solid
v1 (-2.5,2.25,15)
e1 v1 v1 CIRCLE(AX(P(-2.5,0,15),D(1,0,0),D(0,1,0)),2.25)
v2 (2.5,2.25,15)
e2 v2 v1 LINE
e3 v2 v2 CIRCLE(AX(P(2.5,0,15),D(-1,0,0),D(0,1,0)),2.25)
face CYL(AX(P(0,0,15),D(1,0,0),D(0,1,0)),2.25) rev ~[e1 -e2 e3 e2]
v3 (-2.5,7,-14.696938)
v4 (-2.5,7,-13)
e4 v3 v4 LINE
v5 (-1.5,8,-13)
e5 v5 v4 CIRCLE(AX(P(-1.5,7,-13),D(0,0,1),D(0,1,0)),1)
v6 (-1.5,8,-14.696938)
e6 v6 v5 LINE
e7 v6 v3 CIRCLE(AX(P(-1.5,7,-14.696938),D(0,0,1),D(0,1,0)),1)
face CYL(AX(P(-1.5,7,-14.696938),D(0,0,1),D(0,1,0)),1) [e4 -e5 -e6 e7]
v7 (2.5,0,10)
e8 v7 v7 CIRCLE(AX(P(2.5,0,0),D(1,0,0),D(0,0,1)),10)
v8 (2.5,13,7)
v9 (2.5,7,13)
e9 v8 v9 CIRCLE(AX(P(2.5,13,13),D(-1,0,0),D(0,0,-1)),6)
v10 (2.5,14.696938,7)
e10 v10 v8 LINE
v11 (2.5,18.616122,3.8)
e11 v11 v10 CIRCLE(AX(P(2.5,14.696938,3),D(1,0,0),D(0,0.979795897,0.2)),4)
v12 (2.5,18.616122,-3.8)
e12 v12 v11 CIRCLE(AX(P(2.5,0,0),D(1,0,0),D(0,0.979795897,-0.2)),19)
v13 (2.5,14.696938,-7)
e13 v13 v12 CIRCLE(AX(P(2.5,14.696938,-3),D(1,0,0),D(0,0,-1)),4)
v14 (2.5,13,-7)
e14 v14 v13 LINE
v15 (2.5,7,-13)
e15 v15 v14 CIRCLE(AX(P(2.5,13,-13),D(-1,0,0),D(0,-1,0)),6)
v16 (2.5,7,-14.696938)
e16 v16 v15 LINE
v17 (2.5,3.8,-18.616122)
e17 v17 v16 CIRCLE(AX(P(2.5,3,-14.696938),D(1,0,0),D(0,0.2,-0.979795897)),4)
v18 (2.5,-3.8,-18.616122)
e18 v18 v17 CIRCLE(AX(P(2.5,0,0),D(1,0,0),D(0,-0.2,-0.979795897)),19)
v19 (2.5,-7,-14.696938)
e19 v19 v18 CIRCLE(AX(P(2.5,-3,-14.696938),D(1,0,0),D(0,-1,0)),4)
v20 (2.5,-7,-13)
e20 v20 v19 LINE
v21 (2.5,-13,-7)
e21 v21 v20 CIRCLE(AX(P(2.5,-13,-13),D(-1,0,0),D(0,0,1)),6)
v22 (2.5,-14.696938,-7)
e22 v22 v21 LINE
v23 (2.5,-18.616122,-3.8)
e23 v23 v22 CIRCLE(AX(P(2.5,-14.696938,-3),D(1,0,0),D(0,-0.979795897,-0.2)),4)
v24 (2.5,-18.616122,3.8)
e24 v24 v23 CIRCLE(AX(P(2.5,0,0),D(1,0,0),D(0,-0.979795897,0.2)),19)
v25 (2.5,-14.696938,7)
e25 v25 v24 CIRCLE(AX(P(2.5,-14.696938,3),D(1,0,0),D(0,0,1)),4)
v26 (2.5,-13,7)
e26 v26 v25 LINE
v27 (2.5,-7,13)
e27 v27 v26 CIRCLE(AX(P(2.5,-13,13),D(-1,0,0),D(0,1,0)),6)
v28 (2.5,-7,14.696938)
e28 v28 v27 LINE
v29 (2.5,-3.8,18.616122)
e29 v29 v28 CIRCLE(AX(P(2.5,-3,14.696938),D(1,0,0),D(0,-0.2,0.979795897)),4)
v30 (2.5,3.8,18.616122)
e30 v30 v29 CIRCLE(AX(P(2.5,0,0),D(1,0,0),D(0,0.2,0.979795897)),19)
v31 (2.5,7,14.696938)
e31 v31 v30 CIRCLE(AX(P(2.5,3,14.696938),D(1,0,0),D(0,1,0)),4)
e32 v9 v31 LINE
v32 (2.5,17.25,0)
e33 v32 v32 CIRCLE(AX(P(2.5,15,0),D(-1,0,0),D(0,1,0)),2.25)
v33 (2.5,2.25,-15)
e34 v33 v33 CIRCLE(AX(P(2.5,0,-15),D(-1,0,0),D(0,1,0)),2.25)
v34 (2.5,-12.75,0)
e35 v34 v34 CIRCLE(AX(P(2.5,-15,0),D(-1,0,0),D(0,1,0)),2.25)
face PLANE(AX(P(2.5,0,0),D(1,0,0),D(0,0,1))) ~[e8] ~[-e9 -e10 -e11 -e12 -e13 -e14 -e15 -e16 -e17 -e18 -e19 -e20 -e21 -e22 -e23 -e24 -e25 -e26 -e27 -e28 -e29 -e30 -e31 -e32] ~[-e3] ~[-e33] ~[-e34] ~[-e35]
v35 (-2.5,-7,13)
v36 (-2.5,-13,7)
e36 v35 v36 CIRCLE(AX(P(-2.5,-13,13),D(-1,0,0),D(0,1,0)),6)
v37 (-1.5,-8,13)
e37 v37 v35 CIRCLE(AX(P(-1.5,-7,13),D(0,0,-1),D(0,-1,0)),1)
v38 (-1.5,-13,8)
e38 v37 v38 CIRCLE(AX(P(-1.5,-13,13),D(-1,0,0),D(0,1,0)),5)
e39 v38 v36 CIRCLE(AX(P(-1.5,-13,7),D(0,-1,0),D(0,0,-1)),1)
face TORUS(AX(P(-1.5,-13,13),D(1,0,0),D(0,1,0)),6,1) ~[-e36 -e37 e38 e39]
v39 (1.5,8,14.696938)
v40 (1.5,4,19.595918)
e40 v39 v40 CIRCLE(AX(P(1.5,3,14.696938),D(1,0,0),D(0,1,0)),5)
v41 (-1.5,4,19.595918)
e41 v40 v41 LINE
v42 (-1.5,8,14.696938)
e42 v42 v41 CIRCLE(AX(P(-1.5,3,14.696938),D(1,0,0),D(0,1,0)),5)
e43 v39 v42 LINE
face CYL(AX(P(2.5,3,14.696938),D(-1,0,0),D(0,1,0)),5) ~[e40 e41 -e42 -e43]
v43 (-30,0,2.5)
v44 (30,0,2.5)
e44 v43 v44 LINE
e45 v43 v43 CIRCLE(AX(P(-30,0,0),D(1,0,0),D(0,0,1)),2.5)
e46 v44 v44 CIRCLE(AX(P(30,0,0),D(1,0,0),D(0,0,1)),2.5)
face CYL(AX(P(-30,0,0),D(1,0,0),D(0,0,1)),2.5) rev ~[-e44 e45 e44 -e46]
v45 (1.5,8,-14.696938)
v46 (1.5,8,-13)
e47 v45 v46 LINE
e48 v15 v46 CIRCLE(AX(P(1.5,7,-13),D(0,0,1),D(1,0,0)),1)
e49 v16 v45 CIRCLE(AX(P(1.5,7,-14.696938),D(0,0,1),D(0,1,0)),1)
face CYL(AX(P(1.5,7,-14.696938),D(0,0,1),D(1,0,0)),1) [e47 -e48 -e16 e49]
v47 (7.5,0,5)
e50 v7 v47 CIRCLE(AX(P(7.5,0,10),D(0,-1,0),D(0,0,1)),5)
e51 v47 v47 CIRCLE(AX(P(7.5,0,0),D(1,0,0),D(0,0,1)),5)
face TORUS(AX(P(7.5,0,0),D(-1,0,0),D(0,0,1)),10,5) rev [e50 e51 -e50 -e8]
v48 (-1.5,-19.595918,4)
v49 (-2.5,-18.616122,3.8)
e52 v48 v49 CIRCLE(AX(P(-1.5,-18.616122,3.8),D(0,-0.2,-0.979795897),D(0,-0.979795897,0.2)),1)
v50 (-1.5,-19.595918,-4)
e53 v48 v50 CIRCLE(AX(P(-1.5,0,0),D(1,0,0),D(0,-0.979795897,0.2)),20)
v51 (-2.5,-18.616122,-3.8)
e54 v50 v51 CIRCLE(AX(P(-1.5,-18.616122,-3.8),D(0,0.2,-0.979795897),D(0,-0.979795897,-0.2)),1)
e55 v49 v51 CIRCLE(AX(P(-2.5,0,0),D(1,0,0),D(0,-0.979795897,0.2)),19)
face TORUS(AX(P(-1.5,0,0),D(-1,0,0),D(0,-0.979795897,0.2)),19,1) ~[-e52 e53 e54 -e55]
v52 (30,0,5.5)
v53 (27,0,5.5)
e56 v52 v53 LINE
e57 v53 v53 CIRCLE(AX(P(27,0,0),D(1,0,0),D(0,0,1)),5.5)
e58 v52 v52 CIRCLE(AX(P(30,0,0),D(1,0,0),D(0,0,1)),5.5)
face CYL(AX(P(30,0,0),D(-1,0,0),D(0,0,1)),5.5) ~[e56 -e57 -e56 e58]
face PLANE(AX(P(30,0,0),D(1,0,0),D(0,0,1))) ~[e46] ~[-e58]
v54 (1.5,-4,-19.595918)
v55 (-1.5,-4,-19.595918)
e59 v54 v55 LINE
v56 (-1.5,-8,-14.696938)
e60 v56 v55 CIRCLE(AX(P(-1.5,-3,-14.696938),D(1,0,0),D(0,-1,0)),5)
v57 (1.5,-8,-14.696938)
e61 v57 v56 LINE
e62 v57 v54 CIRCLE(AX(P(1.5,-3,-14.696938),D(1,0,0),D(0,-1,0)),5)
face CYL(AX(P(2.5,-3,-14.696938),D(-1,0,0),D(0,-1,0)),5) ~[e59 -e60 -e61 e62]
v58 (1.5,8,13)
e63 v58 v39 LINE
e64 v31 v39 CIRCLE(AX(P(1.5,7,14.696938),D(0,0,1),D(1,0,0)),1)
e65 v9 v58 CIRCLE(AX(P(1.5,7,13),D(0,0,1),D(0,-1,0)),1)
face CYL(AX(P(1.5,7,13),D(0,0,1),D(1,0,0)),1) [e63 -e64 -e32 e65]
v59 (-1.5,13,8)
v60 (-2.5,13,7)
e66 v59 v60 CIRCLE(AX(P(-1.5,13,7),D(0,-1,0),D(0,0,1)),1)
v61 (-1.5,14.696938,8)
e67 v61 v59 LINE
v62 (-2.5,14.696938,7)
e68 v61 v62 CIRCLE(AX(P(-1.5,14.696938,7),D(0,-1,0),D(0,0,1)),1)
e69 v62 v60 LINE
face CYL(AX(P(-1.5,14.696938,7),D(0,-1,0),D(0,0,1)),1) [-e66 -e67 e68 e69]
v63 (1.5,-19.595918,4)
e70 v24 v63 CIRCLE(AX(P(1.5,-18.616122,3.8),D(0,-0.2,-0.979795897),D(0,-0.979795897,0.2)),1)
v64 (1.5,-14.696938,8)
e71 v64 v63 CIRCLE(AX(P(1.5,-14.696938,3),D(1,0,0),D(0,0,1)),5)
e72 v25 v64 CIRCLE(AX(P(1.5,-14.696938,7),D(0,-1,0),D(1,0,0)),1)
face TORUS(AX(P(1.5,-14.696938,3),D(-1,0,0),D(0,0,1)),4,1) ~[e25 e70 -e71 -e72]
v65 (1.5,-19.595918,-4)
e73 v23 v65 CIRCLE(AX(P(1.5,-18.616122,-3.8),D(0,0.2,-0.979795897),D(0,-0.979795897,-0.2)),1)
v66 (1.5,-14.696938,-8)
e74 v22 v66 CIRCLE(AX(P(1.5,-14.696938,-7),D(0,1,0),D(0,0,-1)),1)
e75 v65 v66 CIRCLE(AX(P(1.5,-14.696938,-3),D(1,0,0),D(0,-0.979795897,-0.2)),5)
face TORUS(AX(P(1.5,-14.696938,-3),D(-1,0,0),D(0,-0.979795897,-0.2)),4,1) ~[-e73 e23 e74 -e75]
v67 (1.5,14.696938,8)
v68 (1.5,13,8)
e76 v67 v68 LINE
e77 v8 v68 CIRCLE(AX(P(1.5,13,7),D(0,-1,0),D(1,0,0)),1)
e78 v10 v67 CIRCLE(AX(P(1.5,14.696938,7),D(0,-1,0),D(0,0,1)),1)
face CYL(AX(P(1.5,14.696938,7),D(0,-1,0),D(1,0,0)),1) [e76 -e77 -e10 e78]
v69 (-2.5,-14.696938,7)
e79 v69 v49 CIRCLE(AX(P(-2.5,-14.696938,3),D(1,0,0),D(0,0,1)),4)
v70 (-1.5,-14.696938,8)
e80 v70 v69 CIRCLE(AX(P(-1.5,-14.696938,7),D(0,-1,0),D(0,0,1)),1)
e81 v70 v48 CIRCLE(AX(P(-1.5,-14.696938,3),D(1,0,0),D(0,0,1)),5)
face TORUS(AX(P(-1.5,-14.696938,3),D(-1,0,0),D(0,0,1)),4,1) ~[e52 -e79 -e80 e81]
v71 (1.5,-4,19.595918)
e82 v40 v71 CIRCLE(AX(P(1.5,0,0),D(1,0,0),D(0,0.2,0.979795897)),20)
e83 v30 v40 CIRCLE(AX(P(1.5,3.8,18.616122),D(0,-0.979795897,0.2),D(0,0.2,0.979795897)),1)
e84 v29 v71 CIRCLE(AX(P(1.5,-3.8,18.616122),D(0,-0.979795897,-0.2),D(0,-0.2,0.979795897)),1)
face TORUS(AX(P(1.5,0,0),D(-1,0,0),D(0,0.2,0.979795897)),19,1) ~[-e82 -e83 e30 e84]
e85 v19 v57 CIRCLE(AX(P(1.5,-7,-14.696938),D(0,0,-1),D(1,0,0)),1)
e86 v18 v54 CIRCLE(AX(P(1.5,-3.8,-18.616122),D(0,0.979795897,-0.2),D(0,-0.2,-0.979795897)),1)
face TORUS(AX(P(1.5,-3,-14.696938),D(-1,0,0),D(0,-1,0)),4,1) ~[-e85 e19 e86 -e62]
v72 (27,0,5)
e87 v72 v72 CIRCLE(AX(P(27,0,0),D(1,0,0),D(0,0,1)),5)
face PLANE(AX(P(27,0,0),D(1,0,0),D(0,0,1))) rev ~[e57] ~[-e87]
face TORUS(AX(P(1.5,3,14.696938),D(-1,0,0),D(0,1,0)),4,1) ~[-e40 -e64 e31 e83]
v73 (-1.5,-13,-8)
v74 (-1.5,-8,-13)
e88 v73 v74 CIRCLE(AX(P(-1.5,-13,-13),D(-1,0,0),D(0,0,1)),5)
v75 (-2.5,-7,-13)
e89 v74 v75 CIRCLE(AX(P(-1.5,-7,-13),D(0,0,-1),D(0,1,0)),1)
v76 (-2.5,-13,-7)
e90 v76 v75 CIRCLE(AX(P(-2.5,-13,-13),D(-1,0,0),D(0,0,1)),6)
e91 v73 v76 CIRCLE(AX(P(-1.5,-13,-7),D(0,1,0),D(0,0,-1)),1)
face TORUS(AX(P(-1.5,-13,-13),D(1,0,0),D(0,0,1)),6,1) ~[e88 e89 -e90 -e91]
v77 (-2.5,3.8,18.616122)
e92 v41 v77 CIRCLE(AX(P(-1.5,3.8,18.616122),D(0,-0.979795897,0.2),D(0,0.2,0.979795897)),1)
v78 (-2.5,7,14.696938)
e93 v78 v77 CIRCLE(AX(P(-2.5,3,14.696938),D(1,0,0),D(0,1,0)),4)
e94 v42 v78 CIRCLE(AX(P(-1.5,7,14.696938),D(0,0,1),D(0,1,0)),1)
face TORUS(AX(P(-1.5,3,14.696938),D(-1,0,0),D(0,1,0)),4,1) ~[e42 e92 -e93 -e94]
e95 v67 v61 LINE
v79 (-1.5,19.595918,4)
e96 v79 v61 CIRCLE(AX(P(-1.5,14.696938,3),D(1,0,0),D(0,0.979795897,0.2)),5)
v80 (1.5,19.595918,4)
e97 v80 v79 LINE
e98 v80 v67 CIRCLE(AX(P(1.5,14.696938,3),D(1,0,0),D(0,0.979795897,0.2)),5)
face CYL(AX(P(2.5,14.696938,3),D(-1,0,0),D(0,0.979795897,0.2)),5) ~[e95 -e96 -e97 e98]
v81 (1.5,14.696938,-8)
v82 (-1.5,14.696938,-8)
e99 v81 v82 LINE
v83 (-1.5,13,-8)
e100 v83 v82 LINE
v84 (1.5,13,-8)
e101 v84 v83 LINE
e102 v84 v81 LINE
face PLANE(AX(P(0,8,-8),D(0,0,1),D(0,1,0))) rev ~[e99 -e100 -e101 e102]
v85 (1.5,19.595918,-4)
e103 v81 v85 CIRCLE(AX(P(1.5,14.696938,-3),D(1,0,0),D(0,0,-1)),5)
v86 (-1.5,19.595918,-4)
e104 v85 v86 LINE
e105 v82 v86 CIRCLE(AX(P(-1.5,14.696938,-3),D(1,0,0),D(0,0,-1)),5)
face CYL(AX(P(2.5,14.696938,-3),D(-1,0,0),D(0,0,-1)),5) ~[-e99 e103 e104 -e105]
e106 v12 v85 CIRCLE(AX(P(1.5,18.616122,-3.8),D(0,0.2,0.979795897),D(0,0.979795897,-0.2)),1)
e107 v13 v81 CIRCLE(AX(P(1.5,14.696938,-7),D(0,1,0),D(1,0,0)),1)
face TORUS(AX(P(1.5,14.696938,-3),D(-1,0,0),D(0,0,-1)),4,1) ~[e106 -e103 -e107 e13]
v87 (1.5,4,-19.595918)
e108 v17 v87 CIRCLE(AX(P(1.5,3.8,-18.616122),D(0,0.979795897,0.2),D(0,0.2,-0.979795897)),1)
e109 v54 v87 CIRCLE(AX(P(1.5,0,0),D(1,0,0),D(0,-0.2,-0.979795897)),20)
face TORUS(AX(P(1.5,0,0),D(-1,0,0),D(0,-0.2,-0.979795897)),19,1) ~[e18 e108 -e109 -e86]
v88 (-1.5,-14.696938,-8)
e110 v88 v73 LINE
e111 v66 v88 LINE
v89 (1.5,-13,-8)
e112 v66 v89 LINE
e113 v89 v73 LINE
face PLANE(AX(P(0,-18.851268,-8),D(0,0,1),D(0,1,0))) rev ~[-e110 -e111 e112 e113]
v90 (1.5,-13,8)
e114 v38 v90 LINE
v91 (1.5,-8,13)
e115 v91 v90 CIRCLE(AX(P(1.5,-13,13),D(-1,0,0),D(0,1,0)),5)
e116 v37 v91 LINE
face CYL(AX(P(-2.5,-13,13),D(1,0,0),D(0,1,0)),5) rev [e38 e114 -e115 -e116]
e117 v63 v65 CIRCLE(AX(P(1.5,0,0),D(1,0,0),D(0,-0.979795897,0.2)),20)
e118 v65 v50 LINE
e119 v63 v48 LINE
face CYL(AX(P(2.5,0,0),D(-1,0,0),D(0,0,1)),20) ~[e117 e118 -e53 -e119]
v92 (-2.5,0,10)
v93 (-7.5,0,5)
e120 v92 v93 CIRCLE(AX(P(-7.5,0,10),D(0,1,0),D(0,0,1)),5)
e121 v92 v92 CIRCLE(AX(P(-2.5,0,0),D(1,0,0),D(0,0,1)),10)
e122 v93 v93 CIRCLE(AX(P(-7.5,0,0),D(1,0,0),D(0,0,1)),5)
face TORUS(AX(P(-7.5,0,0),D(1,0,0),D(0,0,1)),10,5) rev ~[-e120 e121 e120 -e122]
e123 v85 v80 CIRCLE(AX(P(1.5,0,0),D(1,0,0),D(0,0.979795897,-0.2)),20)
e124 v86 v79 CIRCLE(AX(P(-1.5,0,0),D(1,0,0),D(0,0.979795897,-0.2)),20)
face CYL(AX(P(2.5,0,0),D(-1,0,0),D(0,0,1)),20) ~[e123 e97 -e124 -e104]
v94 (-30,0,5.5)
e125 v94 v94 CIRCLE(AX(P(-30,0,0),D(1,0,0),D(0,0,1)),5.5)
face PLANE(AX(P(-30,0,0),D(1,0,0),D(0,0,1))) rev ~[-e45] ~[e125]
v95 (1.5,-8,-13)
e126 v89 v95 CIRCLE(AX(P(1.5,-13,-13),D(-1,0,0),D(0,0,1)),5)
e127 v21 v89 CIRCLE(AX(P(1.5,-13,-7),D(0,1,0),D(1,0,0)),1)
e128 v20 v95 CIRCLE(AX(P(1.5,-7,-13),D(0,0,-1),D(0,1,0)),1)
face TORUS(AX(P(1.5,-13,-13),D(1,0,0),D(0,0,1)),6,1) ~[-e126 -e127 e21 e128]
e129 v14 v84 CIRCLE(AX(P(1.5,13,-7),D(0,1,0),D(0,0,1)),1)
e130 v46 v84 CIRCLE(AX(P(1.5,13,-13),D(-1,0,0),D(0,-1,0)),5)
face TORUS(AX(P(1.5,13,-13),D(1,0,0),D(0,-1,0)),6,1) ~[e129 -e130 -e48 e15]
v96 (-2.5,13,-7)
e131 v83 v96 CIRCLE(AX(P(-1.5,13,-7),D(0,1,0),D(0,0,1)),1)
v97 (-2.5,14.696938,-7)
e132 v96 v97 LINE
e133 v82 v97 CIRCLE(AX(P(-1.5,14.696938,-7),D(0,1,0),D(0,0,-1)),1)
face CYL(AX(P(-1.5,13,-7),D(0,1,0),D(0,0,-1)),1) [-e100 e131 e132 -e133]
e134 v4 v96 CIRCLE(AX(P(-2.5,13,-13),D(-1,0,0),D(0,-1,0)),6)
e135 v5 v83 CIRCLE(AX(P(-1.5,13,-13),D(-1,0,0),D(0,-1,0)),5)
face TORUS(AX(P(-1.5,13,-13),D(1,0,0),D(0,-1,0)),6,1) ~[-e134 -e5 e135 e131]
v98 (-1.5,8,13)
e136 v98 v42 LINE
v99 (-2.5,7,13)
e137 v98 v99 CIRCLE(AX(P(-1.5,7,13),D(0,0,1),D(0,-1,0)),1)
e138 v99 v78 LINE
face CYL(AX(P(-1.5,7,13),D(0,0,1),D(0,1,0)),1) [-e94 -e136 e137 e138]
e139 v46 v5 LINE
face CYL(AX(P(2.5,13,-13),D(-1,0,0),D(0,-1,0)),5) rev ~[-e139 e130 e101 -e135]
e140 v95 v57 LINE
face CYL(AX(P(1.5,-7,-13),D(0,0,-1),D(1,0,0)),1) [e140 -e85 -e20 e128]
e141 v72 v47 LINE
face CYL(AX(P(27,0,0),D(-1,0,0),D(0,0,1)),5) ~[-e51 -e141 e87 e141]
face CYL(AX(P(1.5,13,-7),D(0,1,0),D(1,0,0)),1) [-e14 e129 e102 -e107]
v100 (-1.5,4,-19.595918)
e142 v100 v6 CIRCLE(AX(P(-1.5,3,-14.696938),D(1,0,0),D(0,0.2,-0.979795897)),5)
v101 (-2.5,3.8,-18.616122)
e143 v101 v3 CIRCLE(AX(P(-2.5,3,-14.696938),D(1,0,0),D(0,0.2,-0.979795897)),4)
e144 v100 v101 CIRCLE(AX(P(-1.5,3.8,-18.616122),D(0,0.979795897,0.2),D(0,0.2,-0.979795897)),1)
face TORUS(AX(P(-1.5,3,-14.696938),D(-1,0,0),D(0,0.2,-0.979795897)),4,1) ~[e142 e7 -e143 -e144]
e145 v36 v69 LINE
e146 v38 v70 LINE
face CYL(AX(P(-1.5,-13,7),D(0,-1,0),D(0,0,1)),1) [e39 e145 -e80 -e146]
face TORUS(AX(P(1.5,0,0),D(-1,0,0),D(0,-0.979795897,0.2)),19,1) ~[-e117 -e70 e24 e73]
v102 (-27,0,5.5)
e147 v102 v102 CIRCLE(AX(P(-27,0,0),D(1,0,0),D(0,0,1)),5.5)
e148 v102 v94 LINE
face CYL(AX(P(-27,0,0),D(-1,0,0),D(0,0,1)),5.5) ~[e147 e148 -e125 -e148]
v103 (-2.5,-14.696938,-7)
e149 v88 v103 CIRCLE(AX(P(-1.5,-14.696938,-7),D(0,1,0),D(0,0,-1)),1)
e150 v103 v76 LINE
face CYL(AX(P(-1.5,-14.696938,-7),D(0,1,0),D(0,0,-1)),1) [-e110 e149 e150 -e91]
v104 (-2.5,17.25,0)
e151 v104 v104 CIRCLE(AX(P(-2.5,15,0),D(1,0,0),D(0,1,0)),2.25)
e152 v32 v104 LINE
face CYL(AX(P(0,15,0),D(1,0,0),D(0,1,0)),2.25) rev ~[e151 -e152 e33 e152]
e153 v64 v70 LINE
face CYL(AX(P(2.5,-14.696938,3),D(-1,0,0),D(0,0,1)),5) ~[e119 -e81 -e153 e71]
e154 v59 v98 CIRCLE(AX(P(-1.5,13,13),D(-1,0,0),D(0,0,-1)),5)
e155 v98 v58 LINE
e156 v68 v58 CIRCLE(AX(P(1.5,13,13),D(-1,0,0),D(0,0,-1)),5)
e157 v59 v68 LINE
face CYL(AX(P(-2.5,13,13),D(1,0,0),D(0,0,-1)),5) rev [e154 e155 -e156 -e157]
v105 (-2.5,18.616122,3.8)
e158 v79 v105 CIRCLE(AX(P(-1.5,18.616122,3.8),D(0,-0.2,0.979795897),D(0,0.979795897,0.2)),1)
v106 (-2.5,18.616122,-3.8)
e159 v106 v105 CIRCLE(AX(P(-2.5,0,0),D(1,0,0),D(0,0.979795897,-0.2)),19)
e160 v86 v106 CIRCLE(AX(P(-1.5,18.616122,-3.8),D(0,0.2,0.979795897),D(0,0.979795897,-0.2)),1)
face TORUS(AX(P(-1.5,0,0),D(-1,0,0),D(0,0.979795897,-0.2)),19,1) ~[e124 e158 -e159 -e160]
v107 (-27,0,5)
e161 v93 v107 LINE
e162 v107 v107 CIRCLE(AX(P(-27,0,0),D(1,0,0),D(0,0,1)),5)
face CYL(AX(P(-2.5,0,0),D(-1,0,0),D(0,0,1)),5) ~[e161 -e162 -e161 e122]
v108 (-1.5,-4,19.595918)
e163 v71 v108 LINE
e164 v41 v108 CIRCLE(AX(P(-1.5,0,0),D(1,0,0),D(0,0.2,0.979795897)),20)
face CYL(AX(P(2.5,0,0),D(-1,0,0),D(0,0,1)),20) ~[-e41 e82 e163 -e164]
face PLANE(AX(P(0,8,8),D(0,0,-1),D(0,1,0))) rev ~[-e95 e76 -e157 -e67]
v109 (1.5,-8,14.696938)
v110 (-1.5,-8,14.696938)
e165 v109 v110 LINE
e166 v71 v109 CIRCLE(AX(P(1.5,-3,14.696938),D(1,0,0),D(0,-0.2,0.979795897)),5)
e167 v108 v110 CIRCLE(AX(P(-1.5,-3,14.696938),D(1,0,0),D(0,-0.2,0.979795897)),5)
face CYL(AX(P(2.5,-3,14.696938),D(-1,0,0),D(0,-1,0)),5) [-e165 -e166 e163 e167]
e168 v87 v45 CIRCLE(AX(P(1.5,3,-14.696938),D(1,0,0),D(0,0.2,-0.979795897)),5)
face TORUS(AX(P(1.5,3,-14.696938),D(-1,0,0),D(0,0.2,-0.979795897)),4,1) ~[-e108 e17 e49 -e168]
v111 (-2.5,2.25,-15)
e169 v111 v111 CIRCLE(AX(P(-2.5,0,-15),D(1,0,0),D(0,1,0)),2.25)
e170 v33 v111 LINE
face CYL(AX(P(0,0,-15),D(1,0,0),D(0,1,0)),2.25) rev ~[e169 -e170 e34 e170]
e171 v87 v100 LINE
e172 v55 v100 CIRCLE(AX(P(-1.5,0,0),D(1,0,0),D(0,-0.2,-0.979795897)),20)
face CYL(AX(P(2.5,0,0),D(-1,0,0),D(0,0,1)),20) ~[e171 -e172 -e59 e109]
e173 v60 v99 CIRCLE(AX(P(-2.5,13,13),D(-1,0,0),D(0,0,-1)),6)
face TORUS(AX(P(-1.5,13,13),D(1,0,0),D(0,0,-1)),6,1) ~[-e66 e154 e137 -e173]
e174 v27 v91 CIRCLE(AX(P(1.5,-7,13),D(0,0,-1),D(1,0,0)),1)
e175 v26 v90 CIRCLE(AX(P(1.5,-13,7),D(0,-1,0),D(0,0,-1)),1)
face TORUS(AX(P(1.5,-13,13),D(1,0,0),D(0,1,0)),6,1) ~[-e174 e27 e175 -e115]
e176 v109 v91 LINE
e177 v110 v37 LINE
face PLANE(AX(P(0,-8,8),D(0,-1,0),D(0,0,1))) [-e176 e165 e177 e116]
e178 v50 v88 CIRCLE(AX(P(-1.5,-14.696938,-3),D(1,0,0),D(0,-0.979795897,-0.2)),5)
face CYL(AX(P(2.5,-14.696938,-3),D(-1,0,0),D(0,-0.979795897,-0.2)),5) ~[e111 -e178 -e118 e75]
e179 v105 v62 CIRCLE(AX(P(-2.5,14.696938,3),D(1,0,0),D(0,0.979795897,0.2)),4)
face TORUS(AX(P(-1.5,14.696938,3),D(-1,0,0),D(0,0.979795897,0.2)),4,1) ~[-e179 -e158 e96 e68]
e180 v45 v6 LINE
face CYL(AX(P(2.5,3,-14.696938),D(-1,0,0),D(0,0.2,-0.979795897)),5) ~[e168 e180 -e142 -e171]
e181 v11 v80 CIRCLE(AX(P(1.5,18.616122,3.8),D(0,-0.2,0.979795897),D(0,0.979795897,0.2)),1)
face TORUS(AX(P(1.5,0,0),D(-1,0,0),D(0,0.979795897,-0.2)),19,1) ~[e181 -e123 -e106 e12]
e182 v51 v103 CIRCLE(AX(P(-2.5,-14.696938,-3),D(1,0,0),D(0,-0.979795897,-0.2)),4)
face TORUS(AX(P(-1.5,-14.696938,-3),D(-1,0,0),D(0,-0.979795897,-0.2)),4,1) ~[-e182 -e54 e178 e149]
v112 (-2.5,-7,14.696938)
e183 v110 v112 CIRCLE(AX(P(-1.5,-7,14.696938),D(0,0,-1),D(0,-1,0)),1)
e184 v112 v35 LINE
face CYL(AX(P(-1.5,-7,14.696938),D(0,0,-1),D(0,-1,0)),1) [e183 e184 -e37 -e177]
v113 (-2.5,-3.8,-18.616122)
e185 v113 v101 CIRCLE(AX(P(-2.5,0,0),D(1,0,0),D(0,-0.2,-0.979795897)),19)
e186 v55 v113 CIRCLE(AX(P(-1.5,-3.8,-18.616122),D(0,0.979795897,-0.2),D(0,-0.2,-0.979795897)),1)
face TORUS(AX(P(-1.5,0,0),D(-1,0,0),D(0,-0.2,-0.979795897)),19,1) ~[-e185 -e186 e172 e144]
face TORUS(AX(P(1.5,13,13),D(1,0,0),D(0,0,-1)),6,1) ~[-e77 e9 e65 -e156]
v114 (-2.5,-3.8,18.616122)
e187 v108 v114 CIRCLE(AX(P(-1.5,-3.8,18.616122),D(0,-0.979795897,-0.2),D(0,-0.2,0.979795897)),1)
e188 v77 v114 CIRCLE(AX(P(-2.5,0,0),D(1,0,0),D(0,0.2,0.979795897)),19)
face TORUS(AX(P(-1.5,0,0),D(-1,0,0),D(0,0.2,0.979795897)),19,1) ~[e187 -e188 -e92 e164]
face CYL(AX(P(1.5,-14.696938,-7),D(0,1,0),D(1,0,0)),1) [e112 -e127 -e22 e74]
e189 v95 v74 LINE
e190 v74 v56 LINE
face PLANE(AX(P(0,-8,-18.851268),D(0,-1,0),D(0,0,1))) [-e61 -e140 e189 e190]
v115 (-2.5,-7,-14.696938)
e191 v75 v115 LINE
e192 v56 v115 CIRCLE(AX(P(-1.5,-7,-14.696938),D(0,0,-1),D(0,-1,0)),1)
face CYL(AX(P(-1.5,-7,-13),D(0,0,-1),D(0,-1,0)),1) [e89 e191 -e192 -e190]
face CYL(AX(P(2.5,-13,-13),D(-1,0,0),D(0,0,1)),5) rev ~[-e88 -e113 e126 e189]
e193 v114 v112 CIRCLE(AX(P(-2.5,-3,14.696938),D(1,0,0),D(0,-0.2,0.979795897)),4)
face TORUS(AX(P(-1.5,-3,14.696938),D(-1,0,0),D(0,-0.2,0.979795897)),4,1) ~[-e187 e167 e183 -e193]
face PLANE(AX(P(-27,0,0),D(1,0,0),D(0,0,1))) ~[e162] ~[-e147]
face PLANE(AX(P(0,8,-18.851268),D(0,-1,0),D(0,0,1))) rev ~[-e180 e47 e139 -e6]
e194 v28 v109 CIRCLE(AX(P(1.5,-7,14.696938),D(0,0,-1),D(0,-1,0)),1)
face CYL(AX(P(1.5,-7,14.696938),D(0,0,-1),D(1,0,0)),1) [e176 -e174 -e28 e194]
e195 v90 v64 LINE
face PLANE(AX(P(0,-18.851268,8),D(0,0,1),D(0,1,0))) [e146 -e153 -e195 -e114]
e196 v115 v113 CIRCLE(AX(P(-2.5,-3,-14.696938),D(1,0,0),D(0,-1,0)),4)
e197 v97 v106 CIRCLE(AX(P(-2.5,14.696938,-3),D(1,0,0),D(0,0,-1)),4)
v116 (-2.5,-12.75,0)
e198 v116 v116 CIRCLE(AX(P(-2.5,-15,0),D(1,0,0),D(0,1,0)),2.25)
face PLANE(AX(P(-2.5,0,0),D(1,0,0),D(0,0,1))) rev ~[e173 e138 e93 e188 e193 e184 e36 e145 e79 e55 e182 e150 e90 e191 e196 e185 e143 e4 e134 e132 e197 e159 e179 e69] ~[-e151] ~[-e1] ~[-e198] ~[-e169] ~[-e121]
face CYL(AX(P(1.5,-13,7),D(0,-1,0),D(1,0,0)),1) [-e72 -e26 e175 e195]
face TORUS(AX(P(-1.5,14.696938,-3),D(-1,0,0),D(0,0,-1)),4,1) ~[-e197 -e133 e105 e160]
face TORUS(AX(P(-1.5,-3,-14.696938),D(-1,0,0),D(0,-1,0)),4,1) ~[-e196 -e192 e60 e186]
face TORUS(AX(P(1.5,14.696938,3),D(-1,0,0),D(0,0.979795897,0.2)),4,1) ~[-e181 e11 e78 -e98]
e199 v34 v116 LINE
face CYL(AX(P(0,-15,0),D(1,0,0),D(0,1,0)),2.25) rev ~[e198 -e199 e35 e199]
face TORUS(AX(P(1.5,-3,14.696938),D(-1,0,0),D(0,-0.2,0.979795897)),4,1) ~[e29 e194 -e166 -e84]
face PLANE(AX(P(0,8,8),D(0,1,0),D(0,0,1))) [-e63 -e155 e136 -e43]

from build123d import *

# Parameters (mm, degrees)
F2_R     = 2.25
F2_W     = 10.8512681909
F2_H     = 10.8512681909
F3_DEPTH = 50
F4_R     = 5
F5_R     = 5
F6_R     = 1


with BuildPart() as f1:
    # F0 (on Front) → F1 (revolve)
    with BuildSketch(Plane.XZ):
        Polygon((-30, 5.5), (-30, 2.5), (30, 2.5), (30, 5.5), (27, 5.5), (27, 5), (2.5, 5), (2.5, 20), (-2.5, 20), (-2.5, 5), (-27, 5), (-27, 5.5), align=None)
    revolve(axis=Axis((4.0007922798, 0, 0), (1, 0, 0)))

    # F2 (on Right) → F3 (cut, symmetric)
    with BuildSketch(Plane.YZ):
        with Locations((0, 15)):
            Circle(F2_R)
        with Locations((0, -15)):
            Circle(F2_R)
        with Locations((15, 0)):
            Circle(F2_R)
        with Locations((-15, 0)):
            Circle(F2_R)
        with Locations((-13.4256340954, 13.4256340954)):
            Rectangle(F2_W, F2_H)
        with Locations((-13.4256340954, -13.4256340954)):
            Rectangle(F2_W, F2_H)
        with Locations((13.4256340954, -13.4256340954)):
            Rectangle(F2_W, F2_H)
        with Locations((13.4256340954, 13.4256340954)):
            Rectangle(F2_W, F2_H)
    extrude(amount=F3_DEPTH, both=True, mode=Mode.SUBTRACT)

    # F4
    f4_edges = [f1.edges().sort_by_distance(p)[0] for p in [
        (0, -8, 8),
        (0, -18.330303, 8),
        (0, -8, 18.330303),
        (0, -18.330303, -8),
        (0, -8, -18.330303),
        (0, -8, -8),
        (0, 8, -8),
        (0, 8, -18.330303),
        (0, 18.330303, -8),
        (0, 8, 8),
        (0, 18.330303, 8),
        (0, 8, 18.330303),
    ]]
    fillet(f4_edges, radius=F4_R)

    # F5
    f5_edges = [f1.edges().sort_by_distance(p)[0] for p in [
        (2.5, 0, -5),
        (-2.5, 0, -5),
    ]]
    fillet(f5_edges, radius=F5_R)

    # F6
    f6_edges = [f1.edges().sort_by_distance(p)[0] for p in [
        (-2.5, -20, 0),
        (2.5, -20, 0),
    ]]
    fillet(f6_edges, radius=F6_R)


solid = f1.part
